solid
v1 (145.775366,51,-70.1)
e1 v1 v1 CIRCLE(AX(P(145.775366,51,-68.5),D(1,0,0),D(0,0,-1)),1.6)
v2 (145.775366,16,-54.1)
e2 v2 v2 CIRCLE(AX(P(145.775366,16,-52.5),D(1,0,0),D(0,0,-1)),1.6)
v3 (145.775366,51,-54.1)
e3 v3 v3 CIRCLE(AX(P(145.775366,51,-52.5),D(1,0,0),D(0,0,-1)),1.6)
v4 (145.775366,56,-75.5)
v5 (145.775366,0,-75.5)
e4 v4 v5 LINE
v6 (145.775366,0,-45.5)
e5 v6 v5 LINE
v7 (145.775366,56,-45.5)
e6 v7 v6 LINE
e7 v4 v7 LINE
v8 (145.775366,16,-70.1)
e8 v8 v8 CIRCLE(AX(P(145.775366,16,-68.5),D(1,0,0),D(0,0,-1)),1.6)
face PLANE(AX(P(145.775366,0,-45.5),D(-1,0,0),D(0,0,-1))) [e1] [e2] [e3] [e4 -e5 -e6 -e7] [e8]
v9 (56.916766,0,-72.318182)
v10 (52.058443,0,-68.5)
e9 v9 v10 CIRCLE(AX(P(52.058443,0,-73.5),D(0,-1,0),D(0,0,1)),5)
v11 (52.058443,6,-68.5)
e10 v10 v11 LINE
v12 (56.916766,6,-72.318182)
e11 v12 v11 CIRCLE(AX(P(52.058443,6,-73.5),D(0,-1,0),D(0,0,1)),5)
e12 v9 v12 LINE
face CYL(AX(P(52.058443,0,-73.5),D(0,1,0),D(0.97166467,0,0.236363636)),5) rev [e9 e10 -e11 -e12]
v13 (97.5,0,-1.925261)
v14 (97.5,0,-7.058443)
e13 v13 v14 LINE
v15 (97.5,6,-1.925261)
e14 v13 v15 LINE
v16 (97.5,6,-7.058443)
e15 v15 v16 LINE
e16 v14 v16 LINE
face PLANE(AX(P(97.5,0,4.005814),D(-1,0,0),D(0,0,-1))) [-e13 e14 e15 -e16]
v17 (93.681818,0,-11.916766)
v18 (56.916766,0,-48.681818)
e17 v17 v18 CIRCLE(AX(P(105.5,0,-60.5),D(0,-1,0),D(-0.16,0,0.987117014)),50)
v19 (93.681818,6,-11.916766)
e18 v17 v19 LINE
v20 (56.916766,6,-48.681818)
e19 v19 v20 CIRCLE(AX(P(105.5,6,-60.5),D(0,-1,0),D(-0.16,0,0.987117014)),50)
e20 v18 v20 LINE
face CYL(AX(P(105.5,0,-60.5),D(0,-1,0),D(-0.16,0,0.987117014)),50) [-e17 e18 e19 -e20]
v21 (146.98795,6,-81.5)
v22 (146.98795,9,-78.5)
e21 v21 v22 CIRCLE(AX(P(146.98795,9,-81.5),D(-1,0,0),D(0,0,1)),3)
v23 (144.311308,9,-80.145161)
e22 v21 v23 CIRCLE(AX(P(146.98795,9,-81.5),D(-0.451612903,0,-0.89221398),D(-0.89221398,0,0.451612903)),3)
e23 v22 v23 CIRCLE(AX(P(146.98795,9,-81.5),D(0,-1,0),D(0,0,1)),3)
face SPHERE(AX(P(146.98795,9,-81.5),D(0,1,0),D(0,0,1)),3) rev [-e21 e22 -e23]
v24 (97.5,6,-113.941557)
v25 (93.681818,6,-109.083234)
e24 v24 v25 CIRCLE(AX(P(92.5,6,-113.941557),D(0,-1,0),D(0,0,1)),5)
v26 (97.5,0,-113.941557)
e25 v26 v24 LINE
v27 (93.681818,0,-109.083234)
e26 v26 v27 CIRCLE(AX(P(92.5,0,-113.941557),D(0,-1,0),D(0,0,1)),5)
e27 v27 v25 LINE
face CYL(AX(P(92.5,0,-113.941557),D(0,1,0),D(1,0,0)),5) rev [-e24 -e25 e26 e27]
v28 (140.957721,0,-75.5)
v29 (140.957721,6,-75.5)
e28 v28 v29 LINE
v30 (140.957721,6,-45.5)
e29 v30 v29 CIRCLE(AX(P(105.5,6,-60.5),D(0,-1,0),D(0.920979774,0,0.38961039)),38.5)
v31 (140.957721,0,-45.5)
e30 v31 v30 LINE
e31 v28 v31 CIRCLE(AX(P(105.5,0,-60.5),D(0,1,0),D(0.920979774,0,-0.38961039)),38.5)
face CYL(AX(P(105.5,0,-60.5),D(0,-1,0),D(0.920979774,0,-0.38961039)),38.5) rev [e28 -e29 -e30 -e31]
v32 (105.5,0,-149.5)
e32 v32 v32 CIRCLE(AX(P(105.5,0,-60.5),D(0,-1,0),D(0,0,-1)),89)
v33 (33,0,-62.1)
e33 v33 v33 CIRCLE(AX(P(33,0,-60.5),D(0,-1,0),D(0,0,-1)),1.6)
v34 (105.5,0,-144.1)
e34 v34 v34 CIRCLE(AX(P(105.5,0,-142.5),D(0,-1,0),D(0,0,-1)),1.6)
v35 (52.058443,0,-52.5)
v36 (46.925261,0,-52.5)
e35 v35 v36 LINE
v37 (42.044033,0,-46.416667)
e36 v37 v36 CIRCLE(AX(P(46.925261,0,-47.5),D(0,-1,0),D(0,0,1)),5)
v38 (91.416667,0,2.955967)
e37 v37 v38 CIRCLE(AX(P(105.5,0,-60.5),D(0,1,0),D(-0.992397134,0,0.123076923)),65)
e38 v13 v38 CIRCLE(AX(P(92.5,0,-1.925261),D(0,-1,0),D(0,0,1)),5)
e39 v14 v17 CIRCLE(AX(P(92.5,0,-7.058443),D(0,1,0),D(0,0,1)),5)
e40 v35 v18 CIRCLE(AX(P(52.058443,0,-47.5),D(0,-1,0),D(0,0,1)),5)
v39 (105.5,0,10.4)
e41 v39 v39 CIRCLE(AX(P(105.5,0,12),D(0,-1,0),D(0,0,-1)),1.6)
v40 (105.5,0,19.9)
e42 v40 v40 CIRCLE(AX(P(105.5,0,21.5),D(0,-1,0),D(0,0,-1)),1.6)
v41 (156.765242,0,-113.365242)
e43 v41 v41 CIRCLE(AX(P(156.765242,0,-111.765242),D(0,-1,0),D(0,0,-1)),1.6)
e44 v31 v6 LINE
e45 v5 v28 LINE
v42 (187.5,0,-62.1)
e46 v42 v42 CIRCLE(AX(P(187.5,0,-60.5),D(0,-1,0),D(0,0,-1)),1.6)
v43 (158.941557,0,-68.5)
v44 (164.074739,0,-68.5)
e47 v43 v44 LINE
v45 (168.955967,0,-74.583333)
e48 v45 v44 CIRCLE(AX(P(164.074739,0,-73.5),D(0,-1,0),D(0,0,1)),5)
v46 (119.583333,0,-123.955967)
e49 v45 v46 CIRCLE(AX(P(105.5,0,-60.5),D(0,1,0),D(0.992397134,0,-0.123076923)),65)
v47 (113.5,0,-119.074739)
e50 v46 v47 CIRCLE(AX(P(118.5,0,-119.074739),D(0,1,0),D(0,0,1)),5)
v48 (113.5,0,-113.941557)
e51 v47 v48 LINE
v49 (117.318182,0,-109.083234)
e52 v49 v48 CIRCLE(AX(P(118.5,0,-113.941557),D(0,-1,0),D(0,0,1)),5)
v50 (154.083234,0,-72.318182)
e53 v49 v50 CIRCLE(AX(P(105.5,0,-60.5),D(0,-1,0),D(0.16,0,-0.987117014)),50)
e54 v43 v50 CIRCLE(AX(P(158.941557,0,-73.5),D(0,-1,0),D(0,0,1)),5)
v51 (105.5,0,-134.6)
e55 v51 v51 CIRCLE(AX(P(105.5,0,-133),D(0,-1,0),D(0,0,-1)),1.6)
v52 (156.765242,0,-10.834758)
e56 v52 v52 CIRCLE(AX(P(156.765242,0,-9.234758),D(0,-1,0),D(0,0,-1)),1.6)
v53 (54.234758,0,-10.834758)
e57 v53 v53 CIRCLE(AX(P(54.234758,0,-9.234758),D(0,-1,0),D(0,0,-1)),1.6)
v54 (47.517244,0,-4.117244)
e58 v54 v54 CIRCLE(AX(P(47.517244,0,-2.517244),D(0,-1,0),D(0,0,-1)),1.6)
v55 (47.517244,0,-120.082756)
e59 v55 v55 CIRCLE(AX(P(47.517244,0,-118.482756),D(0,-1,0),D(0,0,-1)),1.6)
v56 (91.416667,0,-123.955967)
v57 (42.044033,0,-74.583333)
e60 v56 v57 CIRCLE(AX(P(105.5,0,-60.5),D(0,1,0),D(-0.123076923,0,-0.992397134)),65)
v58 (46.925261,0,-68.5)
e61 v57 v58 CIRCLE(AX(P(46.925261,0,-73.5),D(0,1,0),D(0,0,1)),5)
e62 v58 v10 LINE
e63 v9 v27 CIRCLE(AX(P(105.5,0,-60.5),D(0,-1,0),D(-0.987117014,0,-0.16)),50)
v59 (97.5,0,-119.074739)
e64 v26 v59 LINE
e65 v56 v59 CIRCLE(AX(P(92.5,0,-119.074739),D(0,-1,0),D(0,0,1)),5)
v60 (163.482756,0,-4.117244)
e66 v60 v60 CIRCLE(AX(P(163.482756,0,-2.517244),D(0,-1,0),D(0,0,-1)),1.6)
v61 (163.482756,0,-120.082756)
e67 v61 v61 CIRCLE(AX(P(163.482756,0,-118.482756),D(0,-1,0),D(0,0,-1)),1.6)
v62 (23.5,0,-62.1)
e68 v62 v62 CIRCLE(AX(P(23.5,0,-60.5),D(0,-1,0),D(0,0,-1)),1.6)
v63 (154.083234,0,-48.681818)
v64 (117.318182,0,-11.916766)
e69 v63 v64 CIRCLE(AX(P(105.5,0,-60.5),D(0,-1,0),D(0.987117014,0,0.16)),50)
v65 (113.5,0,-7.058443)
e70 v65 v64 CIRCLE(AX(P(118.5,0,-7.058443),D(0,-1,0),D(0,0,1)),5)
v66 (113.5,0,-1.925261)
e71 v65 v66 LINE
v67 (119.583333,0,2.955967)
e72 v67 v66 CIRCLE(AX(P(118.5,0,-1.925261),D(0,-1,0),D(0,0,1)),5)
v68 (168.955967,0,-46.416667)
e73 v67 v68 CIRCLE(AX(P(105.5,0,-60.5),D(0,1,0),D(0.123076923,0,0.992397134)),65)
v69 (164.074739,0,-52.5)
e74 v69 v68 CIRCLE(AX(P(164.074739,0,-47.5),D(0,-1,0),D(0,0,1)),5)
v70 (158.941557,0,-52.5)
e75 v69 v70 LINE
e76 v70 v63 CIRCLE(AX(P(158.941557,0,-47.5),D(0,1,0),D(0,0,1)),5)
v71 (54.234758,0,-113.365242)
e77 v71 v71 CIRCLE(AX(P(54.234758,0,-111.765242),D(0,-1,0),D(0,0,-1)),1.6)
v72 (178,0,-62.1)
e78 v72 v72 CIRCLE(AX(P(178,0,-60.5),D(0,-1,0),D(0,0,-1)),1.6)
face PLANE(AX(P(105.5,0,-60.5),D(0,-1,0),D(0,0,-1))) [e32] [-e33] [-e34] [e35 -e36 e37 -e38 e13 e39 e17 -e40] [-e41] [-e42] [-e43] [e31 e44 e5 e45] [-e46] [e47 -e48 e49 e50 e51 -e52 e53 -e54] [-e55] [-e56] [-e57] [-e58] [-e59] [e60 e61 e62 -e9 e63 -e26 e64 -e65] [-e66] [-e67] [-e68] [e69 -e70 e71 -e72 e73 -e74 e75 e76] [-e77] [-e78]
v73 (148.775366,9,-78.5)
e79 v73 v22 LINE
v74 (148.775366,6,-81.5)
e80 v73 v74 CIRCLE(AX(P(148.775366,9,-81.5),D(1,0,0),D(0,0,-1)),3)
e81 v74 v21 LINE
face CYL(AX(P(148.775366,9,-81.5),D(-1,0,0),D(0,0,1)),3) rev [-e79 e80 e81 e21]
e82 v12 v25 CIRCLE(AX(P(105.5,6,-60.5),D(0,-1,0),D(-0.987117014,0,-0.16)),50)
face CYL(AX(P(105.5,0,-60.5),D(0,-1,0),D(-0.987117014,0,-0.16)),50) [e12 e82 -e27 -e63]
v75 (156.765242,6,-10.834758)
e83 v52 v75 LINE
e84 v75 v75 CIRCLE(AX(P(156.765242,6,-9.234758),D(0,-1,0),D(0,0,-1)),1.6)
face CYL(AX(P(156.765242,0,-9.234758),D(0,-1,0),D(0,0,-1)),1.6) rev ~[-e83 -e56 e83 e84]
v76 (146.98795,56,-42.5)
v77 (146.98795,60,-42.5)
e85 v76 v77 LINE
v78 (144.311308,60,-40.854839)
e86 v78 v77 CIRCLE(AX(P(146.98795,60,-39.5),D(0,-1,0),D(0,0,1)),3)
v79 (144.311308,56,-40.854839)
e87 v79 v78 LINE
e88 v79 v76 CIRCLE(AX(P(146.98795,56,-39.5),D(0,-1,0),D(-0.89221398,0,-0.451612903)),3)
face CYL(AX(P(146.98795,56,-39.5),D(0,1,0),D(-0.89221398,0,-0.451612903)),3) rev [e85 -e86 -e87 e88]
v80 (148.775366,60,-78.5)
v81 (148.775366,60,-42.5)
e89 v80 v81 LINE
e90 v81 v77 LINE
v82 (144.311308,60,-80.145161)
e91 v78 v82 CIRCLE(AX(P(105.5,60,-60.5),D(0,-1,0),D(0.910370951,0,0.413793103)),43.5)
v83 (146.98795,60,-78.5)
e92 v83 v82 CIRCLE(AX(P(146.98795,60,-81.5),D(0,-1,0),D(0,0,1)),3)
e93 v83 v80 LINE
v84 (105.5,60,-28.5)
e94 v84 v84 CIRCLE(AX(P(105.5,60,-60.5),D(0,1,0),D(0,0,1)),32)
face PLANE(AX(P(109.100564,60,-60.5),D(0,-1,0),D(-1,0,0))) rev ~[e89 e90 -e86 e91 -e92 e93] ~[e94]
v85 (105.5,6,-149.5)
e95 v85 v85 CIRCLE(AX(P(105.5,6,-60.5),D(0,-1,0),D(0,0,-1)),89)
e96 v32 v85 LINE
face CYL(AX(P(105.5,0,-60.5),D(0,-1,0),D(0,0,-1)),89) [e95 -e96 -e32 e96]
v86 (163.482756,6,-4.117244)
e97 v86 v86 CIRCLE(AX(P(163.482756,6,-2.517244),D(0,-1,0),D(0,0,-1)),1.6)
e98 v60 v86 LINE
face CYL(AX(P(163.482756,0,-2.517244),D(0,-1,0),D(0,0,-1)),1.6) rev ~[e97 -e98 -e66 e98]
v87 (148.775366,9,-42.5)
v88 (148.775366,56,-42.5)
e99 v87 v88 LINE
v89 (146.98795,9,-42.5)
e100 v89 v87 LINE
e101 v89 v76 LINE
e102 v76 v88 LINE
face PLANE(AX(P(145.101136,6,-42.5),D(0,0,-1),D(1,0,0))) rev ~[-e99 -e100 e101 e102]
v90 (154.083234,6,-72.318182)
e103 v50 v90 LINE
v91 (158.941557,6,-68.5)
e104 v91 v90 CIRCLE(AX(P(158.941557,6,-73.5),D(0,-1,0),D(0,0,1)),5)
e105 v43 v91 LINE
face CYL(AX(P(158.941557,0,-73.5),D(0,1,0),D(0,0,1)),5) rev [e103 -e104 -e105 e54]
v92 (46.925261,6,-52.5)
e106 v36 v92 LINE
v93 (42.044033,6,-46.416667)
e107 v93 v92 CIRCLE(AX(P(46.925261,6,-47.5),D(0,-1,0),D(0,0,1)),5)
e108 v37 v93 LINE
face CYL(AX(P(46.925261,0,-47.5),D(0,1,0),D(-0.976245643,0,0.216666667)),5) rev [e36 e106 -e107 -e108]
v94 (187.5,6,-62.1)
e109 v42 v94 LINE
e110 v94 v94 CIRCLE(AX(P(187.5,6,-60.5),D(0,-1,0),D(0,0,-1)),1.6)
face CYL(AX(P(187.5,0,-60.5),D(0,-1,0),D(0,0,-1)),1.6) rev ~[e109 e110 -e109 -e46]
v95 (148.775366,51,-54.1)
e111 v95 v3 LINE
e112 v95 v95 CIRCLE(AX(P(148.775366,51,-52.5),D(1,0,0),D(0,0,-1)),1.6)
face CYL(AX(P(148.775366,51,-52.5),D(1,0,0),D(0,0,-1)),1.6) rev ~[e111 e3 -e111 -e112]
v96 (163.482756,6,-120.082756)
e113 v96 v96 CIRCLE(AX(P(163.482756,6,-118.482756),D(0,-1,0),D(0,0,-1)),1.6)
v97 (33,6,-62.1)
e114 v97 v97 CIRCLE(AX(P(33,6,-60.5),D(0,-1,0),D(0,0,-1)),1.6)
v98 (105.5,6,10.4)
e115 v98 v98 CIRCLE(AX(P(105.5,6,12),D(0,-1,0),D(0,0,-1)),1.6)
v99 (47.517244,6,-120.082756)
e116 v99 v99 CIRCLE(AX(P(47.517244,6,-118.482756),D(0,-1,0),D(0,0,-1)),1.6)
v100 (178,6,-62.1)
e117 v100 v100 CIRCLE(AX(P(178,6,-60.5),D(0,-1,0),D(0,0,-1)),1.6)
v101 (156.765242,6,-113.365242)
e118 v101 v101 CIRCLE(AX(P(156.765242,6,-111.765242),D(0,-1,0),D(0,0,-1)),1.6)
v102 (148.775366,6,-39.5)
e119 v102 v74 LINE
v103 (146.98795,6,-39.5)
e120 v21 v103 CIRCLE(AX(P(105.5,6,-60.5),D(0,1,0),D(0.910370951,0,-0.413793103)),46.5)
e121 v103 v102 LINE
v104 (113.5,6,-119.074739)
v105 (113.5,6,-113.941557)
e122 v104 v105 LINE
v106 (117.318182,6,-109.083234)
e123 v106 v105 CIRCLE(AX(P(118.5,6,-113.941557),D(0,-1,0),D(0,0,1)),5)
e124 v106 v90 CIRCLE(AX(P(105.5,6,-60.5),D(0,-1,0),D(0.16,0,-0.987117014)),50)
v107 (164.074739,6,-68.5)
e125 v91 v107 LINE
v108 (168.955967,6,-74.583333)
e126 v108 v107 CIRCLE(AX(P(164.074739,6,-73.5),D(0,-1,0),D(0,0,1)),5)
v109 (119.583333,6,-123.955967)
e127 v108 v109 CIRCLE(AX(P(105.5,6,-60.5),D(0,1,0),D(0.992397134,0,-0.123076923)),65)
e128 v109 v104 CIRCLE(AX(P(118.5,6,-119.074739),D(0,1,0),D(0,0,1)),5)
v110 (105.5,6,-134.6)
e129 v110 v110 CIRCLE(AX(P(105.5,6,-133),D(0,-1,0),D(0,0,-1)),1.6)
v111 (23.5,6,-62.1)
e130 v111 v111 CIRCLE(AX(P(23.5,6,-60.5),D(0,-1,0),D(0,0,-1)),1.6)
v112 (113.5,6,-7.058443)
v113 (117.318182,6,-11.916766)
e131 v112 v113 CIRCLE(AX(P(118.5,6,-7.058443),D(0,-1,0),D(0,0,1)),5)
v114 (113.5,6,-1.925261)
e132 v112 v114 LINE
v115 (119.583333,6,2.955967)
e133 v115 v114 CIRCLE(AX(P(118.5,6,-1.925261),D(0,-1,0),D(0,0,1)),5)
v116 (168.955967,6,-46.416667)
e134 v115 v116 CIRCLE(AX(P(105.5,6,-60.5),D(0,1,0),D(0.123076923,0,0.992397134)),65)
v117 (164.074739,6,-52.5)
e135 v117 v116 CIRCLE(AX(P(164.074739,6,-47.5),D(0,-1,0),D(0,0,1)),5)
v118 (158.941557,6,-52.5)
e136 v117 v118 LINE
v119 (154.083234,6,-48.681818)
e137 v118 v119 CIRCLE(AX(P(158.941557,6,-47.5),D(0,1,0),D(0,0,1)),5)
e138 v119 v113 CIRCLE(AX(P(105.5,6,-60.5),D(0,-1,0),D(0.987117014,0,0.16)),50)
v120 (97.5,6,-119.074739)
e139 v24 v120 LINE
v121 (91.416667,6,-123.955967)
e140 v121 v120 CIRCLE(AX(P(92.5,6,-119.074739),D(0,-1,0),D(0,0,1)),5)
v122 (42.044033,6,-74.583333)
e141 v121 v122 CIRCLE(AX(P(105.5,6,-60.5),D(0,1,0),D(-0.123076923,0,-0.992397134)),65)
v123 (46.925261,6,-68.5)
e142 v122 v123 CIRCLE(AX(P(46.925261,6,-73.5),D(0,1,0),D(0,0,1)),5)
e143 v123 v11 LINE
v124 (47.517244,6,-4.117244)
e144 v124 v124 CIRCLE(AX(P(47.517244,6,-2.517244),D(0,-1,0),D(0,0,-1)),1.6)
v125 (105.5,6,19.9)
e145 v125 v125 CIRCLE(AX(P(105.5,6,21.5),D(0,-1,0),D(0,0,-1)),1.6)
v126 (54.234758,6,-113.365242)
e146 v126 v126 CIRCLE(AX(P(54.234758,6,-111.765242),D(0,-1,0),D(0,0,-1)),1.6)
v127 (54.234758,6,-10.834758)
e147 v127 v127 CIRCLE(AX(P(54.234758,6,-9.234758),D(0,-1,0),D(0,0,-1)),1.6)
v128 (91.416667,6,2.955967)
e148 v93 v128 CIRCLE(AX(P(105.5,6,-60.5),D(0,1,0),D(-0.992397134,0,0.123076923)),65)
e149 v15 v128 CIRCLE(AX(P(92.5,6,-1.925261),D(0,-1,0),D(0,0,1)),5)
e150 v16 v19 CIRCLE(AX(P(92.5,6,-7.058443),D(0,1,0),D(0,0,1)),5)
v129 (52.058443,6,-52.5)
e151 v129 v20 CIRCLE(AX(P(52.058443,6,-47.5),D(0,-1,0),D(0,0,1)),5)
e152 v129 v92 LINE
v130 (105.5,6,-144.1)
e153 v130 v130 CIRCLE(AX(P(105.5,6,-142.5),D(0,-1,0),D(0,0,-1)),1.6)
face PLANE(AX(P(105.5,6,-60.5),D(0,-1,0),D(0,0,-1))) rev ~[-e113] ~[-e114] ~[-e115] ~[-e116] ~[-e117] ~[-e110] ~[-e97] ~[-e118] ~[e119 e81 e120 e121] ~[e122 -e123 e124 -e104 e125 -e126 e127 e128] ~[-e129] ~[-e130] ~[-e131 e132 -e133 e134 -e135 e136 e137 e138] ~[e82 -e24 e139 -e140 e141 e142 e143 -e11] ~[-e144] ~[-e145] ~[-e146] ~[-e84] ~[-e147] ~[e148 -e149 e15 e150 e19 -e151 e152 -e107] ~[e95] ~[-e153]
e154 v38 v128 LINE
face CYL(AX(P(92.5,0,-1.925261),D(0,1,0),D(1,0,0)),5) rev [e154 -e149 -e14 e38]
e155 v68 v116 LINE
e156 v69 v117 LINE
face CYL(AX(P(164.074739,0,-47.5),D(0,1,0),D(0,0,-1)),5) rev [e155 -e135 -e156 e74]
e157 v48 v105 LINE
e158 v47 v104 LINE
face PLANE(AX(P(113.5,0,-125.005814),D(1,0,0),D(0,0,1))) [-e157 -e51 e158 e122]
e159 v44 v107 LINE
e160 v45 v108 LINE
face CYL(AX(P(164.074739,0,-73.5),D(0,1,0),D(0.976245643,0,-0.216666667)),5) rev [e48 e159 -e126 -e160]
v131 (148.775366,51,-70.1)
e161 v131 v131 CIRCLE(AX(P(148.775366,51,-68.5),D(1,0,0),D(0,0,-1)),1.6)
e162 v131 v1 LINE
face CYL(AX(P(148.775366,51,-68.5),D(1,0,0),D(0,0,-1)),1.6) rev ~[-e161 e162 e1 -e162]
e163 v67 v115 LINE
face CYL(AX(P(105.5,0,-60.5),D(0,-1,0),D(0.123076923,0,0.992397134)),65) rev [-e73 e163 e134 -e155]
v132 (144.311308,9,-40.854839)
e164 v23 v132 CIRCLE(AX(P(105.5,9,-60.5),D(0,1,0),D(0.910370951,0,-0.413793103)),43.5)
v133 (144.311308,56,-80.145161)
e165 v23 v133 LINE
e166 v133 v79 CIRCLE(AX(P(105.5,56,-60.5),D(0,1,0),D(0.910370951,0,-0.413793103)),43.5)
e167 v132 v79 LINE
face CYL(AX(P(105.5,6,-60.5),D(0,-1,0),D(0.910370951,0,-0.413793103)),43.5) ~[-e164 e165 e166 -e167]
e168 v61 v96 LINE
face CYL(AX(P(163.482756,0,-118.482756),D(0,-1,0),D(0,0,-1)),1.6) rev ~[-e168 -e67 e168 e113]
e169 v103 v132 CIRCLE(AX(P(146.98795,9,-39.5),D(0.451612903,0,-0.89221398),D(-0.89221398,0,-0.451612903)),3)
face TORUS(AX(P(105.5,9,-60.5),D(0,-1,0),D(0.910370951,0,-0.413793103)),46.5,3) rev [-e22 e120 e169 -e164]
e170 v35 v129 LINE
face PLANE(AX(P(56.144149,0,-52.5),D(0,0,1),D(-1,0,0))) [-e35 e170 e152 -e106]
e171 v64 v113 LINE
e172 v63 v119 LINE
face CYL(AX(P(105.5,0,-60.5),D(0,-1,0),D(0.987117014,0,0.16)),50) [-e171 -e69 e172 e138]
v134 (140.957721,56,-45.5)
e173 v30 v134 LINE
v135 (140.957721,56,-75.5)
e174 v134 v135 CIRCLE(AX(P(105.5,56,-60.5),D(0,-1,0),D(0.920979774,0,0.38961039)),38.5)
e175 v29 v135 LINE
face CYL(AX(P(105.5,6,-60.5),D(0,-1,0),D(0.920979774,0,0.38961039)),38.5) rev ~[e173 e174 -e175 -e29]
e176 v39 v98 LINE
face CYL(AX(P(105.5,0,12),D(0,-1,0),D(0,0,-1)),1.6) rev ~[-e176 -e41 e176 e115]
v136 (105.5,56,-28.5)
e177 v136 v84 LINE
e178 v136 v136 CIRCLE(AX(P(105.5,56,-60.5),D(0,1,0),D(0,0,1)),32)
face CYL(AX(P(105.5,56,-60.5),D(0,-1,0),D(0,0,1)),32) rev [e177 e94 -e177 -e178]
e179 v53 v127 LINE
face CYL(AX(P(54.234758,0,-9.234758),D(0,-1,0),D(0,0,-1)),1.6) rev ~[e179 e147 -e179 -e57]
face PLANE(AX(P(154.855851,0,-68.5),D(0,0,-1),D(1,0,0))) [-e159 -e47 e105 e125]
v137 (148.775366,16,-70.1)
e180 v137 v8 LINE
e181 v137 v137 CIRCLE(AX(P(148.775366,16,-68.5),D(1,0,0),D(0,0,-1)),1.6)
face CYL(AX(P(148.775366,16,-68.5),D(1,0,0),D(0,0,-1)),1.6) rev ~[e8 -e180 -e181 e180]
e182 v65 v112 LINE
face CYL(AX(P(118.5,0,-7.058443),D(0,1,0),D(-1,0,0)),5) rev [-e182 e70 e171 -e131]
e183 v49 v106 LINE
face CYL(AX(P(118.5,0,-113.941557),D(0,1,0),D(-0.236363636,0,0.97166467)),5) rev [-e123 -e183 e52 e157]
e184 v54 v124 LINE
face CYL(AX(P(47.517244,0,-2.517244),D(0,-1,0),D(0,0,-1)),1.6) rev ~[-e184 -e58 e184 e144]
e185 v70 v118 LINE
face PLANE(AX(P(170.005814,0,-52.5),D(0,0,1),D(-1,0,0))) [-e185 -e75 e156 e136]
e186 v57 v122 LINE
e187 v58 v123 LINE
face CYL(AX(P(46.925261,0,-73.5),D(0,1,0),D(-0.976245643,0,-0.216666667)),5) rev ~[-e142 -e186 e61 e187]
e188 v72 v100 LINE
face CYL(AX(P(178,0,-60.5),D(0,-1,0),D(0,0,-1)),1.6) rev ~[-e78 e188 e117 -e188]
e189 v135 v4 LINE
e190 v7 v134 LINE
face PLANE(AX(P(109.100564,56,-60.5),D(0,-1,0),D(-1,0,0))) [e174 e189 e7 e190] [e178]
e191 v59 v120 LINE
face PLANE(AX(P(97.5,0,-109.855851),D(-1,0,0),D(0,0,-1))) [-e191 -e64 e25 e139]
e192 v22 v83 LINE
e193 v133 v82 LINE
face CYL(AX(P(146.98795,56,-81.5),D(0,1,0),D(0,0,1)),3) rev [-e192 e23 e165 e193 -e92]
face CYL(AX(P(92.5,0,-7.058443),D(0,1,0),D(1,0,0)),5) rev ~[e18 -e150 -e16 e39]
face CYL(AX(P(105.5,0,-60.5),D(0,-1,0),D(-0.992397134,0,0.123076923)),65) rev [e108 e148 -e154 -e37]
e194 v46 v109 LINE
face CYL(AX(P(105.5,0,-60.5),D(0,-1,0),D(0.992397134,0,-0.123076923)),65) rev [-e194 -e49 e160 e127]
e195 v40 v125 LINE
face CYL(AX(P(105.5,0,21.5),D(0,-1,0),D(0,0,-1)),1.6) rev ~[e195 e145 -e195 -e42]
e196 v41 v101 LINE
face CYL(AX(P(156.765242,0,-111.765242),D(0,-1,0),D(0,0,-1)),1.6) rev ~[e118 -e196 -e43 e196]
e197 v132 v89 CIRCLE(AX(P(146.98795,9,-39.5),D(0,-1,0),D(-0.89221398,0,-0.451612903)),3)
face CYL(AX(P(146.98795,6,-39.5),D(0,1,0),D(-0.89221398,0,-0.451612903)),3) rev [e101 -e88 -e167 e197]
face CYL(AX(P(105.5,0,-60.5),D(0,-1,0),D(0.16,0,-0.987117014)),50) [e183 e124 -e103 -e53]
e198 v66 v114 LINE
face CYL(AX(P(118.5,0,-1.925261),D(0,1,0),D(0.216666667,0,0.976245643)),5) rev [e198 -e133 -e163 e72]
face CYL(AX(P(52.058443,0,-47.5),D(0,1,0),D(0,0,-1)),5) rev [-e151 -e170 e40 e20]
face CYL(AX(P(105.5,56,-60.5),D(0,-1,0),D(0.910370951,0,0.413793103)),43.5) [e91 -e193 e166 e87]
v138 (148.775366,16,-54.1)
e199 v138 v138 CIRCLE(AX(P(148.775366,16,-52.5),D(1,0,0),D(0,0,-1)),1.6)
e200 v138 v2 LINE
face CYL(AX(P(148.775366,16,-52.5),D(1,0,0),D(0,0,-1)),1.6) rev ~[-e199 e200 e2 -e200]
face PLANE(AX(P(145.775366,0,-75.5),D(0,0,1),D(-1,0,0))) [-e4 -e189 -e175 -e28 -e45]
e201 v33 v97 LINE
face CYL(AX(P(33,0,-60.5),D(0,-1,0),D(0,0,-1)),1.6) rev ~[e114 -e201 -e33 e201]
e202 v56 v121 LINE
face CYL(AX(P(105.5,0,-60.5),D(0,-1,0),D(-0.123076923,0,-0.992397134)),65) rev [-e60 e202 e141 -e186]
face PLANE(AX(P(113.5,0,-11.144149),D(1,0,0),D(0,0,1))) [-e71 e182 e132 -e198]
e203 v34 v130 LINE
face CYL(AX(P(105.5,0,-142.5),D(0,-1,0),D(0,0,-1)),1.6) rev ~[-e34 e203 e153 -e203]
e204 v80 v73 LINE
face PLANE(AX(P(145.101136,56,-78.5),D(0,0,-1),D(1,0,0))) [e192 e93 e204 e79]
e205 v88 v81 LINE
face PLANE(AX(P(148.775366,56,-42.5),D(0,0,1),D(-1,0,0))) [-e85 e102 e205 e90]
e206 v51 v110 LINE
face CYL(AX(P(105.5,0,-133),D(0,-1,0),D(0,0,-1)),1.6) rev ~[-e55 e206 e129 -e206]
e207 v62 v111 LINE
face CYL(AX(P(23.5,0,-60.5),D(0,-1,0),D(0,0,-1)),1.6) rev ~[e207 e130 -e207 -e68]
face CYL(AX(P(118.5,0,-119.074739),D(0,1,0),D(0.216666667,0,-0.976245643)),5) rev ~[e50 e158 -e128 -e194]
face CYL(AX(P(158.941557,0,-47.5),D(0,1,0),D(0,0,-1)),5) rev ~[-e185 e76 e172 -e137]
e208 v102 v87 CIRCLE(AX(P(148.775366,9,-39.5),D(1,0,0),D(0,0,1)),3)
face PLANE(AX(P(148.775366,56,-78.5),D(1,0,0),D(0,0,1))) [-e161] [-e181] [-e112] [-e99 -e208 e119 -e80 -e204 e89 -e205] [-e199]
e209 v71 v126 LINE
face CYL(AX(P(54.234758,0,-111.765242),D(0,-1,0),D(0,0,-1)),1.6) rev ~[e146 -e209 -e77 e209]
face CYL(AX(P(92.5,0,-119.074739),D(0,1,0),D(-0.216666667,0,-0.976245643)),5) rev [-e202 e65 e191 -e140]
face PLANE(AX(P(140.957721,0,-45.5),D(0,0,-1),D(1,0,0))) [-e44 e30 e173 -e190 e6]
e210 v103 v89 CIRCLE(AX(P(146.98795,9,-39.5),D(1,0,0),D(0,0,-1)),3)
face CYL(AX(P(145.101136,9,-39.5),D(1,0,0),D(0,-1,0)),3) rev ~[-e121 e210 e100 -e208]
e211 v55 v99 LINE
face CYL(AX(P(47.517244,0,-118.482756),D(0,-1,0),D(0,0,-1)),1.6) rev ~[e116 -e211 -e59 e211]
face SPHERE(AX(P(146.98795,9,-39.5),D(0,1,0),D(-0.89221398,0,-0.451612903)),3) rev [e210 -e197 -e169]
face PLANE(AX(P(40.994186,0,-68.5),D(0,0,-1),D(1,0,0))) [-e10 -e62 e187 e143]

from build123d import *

# Parameters (mm, degrees)
SKETCH1_R           = 75
BOSS_EXTRUDE1_DEPTH = 6
SKETCH3_R           = 32
CUT_EXTRUDE2_DEPTH  = 226.779759943
BOSS_EXTRUDE2_DEPTH = 50
SKETCH5_R           = 1.6
CUT_EXTRUDE3_DEPTH  = 6
SKETCH7_R           = 32
BOSS_EXTRUDE4_DEPTH = 4
CUT_EXTRUDE4_DEPTH  = 6
FILLET1_R           = 3
SKETCH10_R          = 89
SKETCH10_R_2        = 75
SKETCH10_R_3        = 1.6
BOSS_EXTRUDE6_DEPTH = 6
SKETCH11_R          = 1.6
CUT_EXTRUDE6_DEPTH  = 6
FILLET3_R           = 5


with BuildPart() as part:
    # Sketch1 → Boss-Extrude1 (new body)
    with BuildSketch(Plane(origin=(0, 0, 0), x_dir=(1, 0, 0), z_dir=(0, 1, 0))):
        with Locations(Location((105.5, 60.5, 0), (0, 0, 270))):
            Circle(SKETCH1_R)
    extrude(amount=BOSS_EXTRUDE1_DEPTH)

    # Sketch3 → Cut-Extrude2 (cut, through all)
    with BuildSketch(Plane(origin=(0, 6, 0), x_dir=(1, 0, 0), z_dir=(0, 1, 0))):
        with Locations(Location((105.5, 60.5, 0), (0, 0, 270))):
            Circle(SKETCH3_R)
    extrude(amount=-CUT_EXTRUDE2_DEPTH, mode=Mode.SUBTRACT)

    # Sketch4 → Boss-Extrude2 (add)
    with BuildSketch(Plane(origin=(0, 6, 0), x_dir=(1, 0, 0), z_dir=(0, 1, 0))):
        with BuildLine():
            ThreePointArc((140.957721303, 45.5), (67, 60.5), (140.957721303, 75.5))
            Line((140.957721303, 75.5), (145.775366264, 75.5))
            Line((145.775366264, 75.5), (146.331972766, 75.5))
            ThreePointArc((146.331972766, 75.5), (145.74451839, 77.011472968), (145.101136347, 78.5))
            ThreePointArc((145.101136347, 78.5), (62, 60.5), (145.101136347, 42.5))
            ThreePointArc((145.101136347, 42.5), (145.74451839, 43.988527032), (146.331972766, 45.5))
            Line((146.331972766, 45.5), (145.775366264, 45.5))
            Line((145.775366264, 45.5), (140.957721303, 45.5))
        make_face()
        with BuildLine():
            Line((146.331972766, 75.5), (145.775366264, 75.5))
            Line((145.775366264, 75.5), (145.775366264, 45.5))
            Line((145.775366264, 45.5), (146.331972766, 45.5))
            ThreePointArc((146.331972766, 45.5), (147.885391427, 50.715900981), (148.775366264, 56.084949069))
            Line((148.775366264, 56.084949069), (148.775366264, 64.915050931))
            ThreePointArc((148.775366264, 64.915050931), (147.885391427, 70.284099019), (146.331972766, 75.5))
        make_face()
        with BuildLine():
            ThreePointArc((145.101136347, 78.5), (145.74451839, 77.011472968), (146.331972766, 75.5))
            Line((146.331972766, 75.5), (148.775366264, 75.5))
            Line((148.775366264, 75.5), (148.775366264, 78.5))
            Line((148.775366264, 78.5), (145.101136347, 78.5))
        make_face()
        with BuildLine():
            Line((148.775366264, 75.5), (146.331972766, 75.5))
            ThreePointArc((146.331972766, 75.5), (147.885391427, 70.284099019), (148.775366264, 64.915050931))
            Line((148.775366264, 64.915050931), (148.775366264, 75.5))
        make_face()
        with BuildLine():
            ThreePointArc((148.775366264, 56.084949069), (147.885391427, 50.715900981), (146.331972766, 45.5))
            Line((146.331972766, 45.5), (148.775366264, 45.5))
            Line((148.775366264, 45.5), (148.775366264, 56.084949069))
        make_face()
        with BuildLine():
            Line((148.775366264, 45.5), (146.331972766, 45.5))
            ThreePointArc((146.331972766, 45.5), (145.74451839, 43.988527032), (145.101136347, 42.5))
            Line((145.101136347, 42.5), (148.775366264, 42.5))
            Line((148.775366264, 42.5), (148.775366264, 45.5))
        make_face()
    extrude(amount=BOSS_EXTRUDE2_DEPTH)

    # Sketch5 → Cut-Extrude3 (cut)
    with BuildSketch(Plane(origin=(148.775366264, 0, 0), x_dir=(0, 0, -1), z_dir=(1, 0, 0))):
        with Locations((52.5, 51)):
            Circle(SKETCH5_R)
        with Locations((68.5, 51)):
            Circle(SKETCH5_R)
        with Locations((68.5, 16)):
            Circle(SKETCH5_R)
        with Locations((52.5, 16)):
            Circle(SKETCH5_R)
    extrude(amount=-CUT_EXTRUDE3_DEPTH, mode=Mode.SUBTRACT)

    # Sketch7 → Boss-Extrude4 (add)
    with BuildSketch(Plane(origin=(0, 56, 0), x_dir=(1, 0, 0), z_dir=(0, 1, 0))):
        with BuildLine():
            Line((145.101136347, 78.5), (148.775366264, 78.5))
            Line((148.775366264, 78.5), (148.775366264, 42.5))
            Line((148.775366264, 42.5), (145.101136347, 42.5))
            ThreePointArc((145.101136347, 42.5), (62, 60.5), (145.101136347, 78.5))
        make_face()
        with Locations(Location((105.5, 60.5, 0), (0, 0, 270))):
            Circle(SKETCH7_R, mode=Mode.SUBTRACT)
    extrude(amount=BOSS_EXTRUDE4_DEPTH)

    # Sketch8 → Cut-Extrude4 (cut)
    with BuildSketch(Plane.XZ):
        with BuildLine():
            Line((140.957721303, -45.5), (145.775366264, -45.5))
            Line((145.775366264, -45.5), (145.775366264, -75.5))
            Line((145.775366264, -75.5), (140.957721303, -75.5))
            ThreePointArc((140.957721303, -75.5), (67, -60.5), (140.957721303, -45.5))
        make_face()
    extrude(amount=-CUT_EXTRUDE4_DEPTH, mode=Mode.SUBTRACT)

    # Fillet1
    fillet1_edges = [part.edges().sort_by_distance(p)[0] for p in [
        (146.938251306, 6, -42.5),
        (145.101136347, 31, -42.5),
        (62, 6, -60.5),
        (145.101136347, 31, -78.5),
        (146.938251306, 6, -78.5),
    ]]
    fillet(fillet1_edges, radius=FILLET1_R)

    # Sketch10 → Boss-Extrude6 (add)
    with BuildSketch(Plane.XZ):
        with Locations(Location((105.5, -60.5, 0), (0, 0, 270))):
            Circle(SKETCH10_R)
        with Locations((105.5, -60.5)):
            Circle(SKETCH10_R_2, mode=Mode.SUBTRACT)
        with Locations(Location((105.5, 21.5, 0), (0, 0, 270))):
            Circle(SKETCH10_R_3, mode=Mode.SUBTRACT)
        with Locations(Location((163.482756057, -2.517243943, 0), (0, 0, 270))):
            Circle(SKETCH10_R_3, mode=Mode.SUBTRACT)
        with Locations(Location((187.5, -60.5, 0), (0, 0, 270))):
            Circle(SKETCH10_R_3, mode=Mode.SUBTRACT)
        with Locations(Location((163.482756057, -118.482756057, 0), (0, 0, 270))):
            Circle(SKETCH10_R_3, mode=Mode.SUBTRACT)
        with Locations(Location((105.5, -142.5, 0), (0, 0, 270))):
            Circle(SKETCH10_R_3, mode=Mode.SUBTRACT)
        with Locations(Location((47.517243943, -118.482756057, 0), (0, 0, 270))):
            Circle(SKETCH10_R_3, mode=Mode.SUBTRACT)
        with Locations(Location((23.5, -60.5, 0), (0, 0, 270))):
            Circle(SKETCH10_R_3, mode=Mode.SUBTRACT)
        with Locations(Location((47.517243943, -2.517243943, 0), (0, 0, 270))):
            Circle(SKETCH10_R_3, mode=Mode.SUBTRACT)
    extrude(amount=-BOSS_EXTRUDE6_DEPTH)

    # Sketch11 → Cut-Extrude6 (cut)
    with BuildSketch(Plane.XZ):
        with BuildLine():
            ThreePointArc((97.5, -11.144149283), (70.144660941, -25.144660941), (56.144149283, -52.5))
            Line((56.144149283, -52.5), (40.994186309, -52.5))
            ThreePointArc((40.994186309, -52.5), (59.538059223, -14.538059223), (97.5, 4.005813691))
            Line((97.5, 4.005813691), (97.5, -11.144149283))
        make_face()
        with BuildLine():
            ThreePointArc((154.855850717, -52.5), (140.855339059, -25.144660941), (113.5, -11.144149283))
            Line((113.5, -11.144149283), (113.5, 4.005813691))
            ThreePointArc((113.5, 4.005813691), (151.461940777, -14.538059223), (170.005813691, -52.5))
            Line((170.005813691, -52.5), (154.855850717, -52.5))
        make_face()
        with BuildLine():
            Line((113.5, -125.005813691), (113.5, -109.855850717))
            ThreePointArc((113.5, -109.855850717), (140.855339059, -95.855339059), (154.855850717, -68.5))
            Line((154.855850717, -68.5), (170.005813691, -68.5))
            ThreePointArc((170.005813691, -68.5), (151.461940777, -106.461940777), (113.5, -125.005813691))
        make_face()
        with BuildLine():
            Line((40.994186309, -68.5), (56.144149283, -68.5))
            ThreePointArc((56.144149283, -68.5), (70.144660941, -95.855339059), (97.5, -109.855850717))
            Line((97.5, -109.855850717), (97.5, -125.005813691))
            ThreePointArc((97.5, -125.005813691), (59.538059223, -106.461940777), (40.994186309, -68.5))
        make_face()
        with Locations(Location((156.765241636, -111.765241636, 0), (0, 0, 270))):
            Circle(SKETCH11_R)
        with Locations(Location((178, -60.5, 0), (0, 0, 270))):
            Circle(SKETCH11_R)
        with Locations(Location((156.765241636, -9.234758364, 0), (0, 0, 270))):
            Circle(SKETCH11_R)
        with Locations(Location((105.5, 12, 0), (0, 0, 270))):
            Circle(SKETCH11_R)
        with Locations(Location((54.234758364, -9.234758364, 0), (0, 0, 270))):
            Circle(SKETCH11_R)
        with Locations(Location((33, -60.5, 0), (0, 0, 270))):
            Circle(SKETCH11_R)
        with Locations(Location((54.234758364, -111.765241636, 0), (0, 0, 270))):
            Circle(SKETCH11_R)
        with Locations(Location((105.5, -133, 0), (0, 0, 270))):
            Circle(SKETCH11_R)
    extrude(amount=-CUT_EXTRUDE6_DEPTH, mode=Mode.SUBTRACT)

    # Fillet3
    fillet3_edges = [part.edges().sort_by_distance(p)[0] for p in [
        (170.005813691, 3, -52.5),
        (113.5, 3, 4.005813691),
        (113.5, 3, -11.144149283),
        (154.855850717, 3, -52.5),
        (170.005813691, 3, -68.5),
        (154.855850717, 3, -68.5),
        (113.5, 3, -109.855850717),
        (113.5, 3, -125.005813691),
        (97.5, 3, -125.005813691),
        (97.5, 3, -109.855850717),
        (56.144149283, 3, -68.5),
        (40.994186309, 3, -68.5),
        (97.5, 3, 4.005813691),
        (40.994186309, 3, -52.5),
        (56.144149283, 3, -52.5),
        (97.5, 3, -11.144149283),
    ]]
    fillet(fillet3_edges, radius=FILLET3_R)


solid = part.part
